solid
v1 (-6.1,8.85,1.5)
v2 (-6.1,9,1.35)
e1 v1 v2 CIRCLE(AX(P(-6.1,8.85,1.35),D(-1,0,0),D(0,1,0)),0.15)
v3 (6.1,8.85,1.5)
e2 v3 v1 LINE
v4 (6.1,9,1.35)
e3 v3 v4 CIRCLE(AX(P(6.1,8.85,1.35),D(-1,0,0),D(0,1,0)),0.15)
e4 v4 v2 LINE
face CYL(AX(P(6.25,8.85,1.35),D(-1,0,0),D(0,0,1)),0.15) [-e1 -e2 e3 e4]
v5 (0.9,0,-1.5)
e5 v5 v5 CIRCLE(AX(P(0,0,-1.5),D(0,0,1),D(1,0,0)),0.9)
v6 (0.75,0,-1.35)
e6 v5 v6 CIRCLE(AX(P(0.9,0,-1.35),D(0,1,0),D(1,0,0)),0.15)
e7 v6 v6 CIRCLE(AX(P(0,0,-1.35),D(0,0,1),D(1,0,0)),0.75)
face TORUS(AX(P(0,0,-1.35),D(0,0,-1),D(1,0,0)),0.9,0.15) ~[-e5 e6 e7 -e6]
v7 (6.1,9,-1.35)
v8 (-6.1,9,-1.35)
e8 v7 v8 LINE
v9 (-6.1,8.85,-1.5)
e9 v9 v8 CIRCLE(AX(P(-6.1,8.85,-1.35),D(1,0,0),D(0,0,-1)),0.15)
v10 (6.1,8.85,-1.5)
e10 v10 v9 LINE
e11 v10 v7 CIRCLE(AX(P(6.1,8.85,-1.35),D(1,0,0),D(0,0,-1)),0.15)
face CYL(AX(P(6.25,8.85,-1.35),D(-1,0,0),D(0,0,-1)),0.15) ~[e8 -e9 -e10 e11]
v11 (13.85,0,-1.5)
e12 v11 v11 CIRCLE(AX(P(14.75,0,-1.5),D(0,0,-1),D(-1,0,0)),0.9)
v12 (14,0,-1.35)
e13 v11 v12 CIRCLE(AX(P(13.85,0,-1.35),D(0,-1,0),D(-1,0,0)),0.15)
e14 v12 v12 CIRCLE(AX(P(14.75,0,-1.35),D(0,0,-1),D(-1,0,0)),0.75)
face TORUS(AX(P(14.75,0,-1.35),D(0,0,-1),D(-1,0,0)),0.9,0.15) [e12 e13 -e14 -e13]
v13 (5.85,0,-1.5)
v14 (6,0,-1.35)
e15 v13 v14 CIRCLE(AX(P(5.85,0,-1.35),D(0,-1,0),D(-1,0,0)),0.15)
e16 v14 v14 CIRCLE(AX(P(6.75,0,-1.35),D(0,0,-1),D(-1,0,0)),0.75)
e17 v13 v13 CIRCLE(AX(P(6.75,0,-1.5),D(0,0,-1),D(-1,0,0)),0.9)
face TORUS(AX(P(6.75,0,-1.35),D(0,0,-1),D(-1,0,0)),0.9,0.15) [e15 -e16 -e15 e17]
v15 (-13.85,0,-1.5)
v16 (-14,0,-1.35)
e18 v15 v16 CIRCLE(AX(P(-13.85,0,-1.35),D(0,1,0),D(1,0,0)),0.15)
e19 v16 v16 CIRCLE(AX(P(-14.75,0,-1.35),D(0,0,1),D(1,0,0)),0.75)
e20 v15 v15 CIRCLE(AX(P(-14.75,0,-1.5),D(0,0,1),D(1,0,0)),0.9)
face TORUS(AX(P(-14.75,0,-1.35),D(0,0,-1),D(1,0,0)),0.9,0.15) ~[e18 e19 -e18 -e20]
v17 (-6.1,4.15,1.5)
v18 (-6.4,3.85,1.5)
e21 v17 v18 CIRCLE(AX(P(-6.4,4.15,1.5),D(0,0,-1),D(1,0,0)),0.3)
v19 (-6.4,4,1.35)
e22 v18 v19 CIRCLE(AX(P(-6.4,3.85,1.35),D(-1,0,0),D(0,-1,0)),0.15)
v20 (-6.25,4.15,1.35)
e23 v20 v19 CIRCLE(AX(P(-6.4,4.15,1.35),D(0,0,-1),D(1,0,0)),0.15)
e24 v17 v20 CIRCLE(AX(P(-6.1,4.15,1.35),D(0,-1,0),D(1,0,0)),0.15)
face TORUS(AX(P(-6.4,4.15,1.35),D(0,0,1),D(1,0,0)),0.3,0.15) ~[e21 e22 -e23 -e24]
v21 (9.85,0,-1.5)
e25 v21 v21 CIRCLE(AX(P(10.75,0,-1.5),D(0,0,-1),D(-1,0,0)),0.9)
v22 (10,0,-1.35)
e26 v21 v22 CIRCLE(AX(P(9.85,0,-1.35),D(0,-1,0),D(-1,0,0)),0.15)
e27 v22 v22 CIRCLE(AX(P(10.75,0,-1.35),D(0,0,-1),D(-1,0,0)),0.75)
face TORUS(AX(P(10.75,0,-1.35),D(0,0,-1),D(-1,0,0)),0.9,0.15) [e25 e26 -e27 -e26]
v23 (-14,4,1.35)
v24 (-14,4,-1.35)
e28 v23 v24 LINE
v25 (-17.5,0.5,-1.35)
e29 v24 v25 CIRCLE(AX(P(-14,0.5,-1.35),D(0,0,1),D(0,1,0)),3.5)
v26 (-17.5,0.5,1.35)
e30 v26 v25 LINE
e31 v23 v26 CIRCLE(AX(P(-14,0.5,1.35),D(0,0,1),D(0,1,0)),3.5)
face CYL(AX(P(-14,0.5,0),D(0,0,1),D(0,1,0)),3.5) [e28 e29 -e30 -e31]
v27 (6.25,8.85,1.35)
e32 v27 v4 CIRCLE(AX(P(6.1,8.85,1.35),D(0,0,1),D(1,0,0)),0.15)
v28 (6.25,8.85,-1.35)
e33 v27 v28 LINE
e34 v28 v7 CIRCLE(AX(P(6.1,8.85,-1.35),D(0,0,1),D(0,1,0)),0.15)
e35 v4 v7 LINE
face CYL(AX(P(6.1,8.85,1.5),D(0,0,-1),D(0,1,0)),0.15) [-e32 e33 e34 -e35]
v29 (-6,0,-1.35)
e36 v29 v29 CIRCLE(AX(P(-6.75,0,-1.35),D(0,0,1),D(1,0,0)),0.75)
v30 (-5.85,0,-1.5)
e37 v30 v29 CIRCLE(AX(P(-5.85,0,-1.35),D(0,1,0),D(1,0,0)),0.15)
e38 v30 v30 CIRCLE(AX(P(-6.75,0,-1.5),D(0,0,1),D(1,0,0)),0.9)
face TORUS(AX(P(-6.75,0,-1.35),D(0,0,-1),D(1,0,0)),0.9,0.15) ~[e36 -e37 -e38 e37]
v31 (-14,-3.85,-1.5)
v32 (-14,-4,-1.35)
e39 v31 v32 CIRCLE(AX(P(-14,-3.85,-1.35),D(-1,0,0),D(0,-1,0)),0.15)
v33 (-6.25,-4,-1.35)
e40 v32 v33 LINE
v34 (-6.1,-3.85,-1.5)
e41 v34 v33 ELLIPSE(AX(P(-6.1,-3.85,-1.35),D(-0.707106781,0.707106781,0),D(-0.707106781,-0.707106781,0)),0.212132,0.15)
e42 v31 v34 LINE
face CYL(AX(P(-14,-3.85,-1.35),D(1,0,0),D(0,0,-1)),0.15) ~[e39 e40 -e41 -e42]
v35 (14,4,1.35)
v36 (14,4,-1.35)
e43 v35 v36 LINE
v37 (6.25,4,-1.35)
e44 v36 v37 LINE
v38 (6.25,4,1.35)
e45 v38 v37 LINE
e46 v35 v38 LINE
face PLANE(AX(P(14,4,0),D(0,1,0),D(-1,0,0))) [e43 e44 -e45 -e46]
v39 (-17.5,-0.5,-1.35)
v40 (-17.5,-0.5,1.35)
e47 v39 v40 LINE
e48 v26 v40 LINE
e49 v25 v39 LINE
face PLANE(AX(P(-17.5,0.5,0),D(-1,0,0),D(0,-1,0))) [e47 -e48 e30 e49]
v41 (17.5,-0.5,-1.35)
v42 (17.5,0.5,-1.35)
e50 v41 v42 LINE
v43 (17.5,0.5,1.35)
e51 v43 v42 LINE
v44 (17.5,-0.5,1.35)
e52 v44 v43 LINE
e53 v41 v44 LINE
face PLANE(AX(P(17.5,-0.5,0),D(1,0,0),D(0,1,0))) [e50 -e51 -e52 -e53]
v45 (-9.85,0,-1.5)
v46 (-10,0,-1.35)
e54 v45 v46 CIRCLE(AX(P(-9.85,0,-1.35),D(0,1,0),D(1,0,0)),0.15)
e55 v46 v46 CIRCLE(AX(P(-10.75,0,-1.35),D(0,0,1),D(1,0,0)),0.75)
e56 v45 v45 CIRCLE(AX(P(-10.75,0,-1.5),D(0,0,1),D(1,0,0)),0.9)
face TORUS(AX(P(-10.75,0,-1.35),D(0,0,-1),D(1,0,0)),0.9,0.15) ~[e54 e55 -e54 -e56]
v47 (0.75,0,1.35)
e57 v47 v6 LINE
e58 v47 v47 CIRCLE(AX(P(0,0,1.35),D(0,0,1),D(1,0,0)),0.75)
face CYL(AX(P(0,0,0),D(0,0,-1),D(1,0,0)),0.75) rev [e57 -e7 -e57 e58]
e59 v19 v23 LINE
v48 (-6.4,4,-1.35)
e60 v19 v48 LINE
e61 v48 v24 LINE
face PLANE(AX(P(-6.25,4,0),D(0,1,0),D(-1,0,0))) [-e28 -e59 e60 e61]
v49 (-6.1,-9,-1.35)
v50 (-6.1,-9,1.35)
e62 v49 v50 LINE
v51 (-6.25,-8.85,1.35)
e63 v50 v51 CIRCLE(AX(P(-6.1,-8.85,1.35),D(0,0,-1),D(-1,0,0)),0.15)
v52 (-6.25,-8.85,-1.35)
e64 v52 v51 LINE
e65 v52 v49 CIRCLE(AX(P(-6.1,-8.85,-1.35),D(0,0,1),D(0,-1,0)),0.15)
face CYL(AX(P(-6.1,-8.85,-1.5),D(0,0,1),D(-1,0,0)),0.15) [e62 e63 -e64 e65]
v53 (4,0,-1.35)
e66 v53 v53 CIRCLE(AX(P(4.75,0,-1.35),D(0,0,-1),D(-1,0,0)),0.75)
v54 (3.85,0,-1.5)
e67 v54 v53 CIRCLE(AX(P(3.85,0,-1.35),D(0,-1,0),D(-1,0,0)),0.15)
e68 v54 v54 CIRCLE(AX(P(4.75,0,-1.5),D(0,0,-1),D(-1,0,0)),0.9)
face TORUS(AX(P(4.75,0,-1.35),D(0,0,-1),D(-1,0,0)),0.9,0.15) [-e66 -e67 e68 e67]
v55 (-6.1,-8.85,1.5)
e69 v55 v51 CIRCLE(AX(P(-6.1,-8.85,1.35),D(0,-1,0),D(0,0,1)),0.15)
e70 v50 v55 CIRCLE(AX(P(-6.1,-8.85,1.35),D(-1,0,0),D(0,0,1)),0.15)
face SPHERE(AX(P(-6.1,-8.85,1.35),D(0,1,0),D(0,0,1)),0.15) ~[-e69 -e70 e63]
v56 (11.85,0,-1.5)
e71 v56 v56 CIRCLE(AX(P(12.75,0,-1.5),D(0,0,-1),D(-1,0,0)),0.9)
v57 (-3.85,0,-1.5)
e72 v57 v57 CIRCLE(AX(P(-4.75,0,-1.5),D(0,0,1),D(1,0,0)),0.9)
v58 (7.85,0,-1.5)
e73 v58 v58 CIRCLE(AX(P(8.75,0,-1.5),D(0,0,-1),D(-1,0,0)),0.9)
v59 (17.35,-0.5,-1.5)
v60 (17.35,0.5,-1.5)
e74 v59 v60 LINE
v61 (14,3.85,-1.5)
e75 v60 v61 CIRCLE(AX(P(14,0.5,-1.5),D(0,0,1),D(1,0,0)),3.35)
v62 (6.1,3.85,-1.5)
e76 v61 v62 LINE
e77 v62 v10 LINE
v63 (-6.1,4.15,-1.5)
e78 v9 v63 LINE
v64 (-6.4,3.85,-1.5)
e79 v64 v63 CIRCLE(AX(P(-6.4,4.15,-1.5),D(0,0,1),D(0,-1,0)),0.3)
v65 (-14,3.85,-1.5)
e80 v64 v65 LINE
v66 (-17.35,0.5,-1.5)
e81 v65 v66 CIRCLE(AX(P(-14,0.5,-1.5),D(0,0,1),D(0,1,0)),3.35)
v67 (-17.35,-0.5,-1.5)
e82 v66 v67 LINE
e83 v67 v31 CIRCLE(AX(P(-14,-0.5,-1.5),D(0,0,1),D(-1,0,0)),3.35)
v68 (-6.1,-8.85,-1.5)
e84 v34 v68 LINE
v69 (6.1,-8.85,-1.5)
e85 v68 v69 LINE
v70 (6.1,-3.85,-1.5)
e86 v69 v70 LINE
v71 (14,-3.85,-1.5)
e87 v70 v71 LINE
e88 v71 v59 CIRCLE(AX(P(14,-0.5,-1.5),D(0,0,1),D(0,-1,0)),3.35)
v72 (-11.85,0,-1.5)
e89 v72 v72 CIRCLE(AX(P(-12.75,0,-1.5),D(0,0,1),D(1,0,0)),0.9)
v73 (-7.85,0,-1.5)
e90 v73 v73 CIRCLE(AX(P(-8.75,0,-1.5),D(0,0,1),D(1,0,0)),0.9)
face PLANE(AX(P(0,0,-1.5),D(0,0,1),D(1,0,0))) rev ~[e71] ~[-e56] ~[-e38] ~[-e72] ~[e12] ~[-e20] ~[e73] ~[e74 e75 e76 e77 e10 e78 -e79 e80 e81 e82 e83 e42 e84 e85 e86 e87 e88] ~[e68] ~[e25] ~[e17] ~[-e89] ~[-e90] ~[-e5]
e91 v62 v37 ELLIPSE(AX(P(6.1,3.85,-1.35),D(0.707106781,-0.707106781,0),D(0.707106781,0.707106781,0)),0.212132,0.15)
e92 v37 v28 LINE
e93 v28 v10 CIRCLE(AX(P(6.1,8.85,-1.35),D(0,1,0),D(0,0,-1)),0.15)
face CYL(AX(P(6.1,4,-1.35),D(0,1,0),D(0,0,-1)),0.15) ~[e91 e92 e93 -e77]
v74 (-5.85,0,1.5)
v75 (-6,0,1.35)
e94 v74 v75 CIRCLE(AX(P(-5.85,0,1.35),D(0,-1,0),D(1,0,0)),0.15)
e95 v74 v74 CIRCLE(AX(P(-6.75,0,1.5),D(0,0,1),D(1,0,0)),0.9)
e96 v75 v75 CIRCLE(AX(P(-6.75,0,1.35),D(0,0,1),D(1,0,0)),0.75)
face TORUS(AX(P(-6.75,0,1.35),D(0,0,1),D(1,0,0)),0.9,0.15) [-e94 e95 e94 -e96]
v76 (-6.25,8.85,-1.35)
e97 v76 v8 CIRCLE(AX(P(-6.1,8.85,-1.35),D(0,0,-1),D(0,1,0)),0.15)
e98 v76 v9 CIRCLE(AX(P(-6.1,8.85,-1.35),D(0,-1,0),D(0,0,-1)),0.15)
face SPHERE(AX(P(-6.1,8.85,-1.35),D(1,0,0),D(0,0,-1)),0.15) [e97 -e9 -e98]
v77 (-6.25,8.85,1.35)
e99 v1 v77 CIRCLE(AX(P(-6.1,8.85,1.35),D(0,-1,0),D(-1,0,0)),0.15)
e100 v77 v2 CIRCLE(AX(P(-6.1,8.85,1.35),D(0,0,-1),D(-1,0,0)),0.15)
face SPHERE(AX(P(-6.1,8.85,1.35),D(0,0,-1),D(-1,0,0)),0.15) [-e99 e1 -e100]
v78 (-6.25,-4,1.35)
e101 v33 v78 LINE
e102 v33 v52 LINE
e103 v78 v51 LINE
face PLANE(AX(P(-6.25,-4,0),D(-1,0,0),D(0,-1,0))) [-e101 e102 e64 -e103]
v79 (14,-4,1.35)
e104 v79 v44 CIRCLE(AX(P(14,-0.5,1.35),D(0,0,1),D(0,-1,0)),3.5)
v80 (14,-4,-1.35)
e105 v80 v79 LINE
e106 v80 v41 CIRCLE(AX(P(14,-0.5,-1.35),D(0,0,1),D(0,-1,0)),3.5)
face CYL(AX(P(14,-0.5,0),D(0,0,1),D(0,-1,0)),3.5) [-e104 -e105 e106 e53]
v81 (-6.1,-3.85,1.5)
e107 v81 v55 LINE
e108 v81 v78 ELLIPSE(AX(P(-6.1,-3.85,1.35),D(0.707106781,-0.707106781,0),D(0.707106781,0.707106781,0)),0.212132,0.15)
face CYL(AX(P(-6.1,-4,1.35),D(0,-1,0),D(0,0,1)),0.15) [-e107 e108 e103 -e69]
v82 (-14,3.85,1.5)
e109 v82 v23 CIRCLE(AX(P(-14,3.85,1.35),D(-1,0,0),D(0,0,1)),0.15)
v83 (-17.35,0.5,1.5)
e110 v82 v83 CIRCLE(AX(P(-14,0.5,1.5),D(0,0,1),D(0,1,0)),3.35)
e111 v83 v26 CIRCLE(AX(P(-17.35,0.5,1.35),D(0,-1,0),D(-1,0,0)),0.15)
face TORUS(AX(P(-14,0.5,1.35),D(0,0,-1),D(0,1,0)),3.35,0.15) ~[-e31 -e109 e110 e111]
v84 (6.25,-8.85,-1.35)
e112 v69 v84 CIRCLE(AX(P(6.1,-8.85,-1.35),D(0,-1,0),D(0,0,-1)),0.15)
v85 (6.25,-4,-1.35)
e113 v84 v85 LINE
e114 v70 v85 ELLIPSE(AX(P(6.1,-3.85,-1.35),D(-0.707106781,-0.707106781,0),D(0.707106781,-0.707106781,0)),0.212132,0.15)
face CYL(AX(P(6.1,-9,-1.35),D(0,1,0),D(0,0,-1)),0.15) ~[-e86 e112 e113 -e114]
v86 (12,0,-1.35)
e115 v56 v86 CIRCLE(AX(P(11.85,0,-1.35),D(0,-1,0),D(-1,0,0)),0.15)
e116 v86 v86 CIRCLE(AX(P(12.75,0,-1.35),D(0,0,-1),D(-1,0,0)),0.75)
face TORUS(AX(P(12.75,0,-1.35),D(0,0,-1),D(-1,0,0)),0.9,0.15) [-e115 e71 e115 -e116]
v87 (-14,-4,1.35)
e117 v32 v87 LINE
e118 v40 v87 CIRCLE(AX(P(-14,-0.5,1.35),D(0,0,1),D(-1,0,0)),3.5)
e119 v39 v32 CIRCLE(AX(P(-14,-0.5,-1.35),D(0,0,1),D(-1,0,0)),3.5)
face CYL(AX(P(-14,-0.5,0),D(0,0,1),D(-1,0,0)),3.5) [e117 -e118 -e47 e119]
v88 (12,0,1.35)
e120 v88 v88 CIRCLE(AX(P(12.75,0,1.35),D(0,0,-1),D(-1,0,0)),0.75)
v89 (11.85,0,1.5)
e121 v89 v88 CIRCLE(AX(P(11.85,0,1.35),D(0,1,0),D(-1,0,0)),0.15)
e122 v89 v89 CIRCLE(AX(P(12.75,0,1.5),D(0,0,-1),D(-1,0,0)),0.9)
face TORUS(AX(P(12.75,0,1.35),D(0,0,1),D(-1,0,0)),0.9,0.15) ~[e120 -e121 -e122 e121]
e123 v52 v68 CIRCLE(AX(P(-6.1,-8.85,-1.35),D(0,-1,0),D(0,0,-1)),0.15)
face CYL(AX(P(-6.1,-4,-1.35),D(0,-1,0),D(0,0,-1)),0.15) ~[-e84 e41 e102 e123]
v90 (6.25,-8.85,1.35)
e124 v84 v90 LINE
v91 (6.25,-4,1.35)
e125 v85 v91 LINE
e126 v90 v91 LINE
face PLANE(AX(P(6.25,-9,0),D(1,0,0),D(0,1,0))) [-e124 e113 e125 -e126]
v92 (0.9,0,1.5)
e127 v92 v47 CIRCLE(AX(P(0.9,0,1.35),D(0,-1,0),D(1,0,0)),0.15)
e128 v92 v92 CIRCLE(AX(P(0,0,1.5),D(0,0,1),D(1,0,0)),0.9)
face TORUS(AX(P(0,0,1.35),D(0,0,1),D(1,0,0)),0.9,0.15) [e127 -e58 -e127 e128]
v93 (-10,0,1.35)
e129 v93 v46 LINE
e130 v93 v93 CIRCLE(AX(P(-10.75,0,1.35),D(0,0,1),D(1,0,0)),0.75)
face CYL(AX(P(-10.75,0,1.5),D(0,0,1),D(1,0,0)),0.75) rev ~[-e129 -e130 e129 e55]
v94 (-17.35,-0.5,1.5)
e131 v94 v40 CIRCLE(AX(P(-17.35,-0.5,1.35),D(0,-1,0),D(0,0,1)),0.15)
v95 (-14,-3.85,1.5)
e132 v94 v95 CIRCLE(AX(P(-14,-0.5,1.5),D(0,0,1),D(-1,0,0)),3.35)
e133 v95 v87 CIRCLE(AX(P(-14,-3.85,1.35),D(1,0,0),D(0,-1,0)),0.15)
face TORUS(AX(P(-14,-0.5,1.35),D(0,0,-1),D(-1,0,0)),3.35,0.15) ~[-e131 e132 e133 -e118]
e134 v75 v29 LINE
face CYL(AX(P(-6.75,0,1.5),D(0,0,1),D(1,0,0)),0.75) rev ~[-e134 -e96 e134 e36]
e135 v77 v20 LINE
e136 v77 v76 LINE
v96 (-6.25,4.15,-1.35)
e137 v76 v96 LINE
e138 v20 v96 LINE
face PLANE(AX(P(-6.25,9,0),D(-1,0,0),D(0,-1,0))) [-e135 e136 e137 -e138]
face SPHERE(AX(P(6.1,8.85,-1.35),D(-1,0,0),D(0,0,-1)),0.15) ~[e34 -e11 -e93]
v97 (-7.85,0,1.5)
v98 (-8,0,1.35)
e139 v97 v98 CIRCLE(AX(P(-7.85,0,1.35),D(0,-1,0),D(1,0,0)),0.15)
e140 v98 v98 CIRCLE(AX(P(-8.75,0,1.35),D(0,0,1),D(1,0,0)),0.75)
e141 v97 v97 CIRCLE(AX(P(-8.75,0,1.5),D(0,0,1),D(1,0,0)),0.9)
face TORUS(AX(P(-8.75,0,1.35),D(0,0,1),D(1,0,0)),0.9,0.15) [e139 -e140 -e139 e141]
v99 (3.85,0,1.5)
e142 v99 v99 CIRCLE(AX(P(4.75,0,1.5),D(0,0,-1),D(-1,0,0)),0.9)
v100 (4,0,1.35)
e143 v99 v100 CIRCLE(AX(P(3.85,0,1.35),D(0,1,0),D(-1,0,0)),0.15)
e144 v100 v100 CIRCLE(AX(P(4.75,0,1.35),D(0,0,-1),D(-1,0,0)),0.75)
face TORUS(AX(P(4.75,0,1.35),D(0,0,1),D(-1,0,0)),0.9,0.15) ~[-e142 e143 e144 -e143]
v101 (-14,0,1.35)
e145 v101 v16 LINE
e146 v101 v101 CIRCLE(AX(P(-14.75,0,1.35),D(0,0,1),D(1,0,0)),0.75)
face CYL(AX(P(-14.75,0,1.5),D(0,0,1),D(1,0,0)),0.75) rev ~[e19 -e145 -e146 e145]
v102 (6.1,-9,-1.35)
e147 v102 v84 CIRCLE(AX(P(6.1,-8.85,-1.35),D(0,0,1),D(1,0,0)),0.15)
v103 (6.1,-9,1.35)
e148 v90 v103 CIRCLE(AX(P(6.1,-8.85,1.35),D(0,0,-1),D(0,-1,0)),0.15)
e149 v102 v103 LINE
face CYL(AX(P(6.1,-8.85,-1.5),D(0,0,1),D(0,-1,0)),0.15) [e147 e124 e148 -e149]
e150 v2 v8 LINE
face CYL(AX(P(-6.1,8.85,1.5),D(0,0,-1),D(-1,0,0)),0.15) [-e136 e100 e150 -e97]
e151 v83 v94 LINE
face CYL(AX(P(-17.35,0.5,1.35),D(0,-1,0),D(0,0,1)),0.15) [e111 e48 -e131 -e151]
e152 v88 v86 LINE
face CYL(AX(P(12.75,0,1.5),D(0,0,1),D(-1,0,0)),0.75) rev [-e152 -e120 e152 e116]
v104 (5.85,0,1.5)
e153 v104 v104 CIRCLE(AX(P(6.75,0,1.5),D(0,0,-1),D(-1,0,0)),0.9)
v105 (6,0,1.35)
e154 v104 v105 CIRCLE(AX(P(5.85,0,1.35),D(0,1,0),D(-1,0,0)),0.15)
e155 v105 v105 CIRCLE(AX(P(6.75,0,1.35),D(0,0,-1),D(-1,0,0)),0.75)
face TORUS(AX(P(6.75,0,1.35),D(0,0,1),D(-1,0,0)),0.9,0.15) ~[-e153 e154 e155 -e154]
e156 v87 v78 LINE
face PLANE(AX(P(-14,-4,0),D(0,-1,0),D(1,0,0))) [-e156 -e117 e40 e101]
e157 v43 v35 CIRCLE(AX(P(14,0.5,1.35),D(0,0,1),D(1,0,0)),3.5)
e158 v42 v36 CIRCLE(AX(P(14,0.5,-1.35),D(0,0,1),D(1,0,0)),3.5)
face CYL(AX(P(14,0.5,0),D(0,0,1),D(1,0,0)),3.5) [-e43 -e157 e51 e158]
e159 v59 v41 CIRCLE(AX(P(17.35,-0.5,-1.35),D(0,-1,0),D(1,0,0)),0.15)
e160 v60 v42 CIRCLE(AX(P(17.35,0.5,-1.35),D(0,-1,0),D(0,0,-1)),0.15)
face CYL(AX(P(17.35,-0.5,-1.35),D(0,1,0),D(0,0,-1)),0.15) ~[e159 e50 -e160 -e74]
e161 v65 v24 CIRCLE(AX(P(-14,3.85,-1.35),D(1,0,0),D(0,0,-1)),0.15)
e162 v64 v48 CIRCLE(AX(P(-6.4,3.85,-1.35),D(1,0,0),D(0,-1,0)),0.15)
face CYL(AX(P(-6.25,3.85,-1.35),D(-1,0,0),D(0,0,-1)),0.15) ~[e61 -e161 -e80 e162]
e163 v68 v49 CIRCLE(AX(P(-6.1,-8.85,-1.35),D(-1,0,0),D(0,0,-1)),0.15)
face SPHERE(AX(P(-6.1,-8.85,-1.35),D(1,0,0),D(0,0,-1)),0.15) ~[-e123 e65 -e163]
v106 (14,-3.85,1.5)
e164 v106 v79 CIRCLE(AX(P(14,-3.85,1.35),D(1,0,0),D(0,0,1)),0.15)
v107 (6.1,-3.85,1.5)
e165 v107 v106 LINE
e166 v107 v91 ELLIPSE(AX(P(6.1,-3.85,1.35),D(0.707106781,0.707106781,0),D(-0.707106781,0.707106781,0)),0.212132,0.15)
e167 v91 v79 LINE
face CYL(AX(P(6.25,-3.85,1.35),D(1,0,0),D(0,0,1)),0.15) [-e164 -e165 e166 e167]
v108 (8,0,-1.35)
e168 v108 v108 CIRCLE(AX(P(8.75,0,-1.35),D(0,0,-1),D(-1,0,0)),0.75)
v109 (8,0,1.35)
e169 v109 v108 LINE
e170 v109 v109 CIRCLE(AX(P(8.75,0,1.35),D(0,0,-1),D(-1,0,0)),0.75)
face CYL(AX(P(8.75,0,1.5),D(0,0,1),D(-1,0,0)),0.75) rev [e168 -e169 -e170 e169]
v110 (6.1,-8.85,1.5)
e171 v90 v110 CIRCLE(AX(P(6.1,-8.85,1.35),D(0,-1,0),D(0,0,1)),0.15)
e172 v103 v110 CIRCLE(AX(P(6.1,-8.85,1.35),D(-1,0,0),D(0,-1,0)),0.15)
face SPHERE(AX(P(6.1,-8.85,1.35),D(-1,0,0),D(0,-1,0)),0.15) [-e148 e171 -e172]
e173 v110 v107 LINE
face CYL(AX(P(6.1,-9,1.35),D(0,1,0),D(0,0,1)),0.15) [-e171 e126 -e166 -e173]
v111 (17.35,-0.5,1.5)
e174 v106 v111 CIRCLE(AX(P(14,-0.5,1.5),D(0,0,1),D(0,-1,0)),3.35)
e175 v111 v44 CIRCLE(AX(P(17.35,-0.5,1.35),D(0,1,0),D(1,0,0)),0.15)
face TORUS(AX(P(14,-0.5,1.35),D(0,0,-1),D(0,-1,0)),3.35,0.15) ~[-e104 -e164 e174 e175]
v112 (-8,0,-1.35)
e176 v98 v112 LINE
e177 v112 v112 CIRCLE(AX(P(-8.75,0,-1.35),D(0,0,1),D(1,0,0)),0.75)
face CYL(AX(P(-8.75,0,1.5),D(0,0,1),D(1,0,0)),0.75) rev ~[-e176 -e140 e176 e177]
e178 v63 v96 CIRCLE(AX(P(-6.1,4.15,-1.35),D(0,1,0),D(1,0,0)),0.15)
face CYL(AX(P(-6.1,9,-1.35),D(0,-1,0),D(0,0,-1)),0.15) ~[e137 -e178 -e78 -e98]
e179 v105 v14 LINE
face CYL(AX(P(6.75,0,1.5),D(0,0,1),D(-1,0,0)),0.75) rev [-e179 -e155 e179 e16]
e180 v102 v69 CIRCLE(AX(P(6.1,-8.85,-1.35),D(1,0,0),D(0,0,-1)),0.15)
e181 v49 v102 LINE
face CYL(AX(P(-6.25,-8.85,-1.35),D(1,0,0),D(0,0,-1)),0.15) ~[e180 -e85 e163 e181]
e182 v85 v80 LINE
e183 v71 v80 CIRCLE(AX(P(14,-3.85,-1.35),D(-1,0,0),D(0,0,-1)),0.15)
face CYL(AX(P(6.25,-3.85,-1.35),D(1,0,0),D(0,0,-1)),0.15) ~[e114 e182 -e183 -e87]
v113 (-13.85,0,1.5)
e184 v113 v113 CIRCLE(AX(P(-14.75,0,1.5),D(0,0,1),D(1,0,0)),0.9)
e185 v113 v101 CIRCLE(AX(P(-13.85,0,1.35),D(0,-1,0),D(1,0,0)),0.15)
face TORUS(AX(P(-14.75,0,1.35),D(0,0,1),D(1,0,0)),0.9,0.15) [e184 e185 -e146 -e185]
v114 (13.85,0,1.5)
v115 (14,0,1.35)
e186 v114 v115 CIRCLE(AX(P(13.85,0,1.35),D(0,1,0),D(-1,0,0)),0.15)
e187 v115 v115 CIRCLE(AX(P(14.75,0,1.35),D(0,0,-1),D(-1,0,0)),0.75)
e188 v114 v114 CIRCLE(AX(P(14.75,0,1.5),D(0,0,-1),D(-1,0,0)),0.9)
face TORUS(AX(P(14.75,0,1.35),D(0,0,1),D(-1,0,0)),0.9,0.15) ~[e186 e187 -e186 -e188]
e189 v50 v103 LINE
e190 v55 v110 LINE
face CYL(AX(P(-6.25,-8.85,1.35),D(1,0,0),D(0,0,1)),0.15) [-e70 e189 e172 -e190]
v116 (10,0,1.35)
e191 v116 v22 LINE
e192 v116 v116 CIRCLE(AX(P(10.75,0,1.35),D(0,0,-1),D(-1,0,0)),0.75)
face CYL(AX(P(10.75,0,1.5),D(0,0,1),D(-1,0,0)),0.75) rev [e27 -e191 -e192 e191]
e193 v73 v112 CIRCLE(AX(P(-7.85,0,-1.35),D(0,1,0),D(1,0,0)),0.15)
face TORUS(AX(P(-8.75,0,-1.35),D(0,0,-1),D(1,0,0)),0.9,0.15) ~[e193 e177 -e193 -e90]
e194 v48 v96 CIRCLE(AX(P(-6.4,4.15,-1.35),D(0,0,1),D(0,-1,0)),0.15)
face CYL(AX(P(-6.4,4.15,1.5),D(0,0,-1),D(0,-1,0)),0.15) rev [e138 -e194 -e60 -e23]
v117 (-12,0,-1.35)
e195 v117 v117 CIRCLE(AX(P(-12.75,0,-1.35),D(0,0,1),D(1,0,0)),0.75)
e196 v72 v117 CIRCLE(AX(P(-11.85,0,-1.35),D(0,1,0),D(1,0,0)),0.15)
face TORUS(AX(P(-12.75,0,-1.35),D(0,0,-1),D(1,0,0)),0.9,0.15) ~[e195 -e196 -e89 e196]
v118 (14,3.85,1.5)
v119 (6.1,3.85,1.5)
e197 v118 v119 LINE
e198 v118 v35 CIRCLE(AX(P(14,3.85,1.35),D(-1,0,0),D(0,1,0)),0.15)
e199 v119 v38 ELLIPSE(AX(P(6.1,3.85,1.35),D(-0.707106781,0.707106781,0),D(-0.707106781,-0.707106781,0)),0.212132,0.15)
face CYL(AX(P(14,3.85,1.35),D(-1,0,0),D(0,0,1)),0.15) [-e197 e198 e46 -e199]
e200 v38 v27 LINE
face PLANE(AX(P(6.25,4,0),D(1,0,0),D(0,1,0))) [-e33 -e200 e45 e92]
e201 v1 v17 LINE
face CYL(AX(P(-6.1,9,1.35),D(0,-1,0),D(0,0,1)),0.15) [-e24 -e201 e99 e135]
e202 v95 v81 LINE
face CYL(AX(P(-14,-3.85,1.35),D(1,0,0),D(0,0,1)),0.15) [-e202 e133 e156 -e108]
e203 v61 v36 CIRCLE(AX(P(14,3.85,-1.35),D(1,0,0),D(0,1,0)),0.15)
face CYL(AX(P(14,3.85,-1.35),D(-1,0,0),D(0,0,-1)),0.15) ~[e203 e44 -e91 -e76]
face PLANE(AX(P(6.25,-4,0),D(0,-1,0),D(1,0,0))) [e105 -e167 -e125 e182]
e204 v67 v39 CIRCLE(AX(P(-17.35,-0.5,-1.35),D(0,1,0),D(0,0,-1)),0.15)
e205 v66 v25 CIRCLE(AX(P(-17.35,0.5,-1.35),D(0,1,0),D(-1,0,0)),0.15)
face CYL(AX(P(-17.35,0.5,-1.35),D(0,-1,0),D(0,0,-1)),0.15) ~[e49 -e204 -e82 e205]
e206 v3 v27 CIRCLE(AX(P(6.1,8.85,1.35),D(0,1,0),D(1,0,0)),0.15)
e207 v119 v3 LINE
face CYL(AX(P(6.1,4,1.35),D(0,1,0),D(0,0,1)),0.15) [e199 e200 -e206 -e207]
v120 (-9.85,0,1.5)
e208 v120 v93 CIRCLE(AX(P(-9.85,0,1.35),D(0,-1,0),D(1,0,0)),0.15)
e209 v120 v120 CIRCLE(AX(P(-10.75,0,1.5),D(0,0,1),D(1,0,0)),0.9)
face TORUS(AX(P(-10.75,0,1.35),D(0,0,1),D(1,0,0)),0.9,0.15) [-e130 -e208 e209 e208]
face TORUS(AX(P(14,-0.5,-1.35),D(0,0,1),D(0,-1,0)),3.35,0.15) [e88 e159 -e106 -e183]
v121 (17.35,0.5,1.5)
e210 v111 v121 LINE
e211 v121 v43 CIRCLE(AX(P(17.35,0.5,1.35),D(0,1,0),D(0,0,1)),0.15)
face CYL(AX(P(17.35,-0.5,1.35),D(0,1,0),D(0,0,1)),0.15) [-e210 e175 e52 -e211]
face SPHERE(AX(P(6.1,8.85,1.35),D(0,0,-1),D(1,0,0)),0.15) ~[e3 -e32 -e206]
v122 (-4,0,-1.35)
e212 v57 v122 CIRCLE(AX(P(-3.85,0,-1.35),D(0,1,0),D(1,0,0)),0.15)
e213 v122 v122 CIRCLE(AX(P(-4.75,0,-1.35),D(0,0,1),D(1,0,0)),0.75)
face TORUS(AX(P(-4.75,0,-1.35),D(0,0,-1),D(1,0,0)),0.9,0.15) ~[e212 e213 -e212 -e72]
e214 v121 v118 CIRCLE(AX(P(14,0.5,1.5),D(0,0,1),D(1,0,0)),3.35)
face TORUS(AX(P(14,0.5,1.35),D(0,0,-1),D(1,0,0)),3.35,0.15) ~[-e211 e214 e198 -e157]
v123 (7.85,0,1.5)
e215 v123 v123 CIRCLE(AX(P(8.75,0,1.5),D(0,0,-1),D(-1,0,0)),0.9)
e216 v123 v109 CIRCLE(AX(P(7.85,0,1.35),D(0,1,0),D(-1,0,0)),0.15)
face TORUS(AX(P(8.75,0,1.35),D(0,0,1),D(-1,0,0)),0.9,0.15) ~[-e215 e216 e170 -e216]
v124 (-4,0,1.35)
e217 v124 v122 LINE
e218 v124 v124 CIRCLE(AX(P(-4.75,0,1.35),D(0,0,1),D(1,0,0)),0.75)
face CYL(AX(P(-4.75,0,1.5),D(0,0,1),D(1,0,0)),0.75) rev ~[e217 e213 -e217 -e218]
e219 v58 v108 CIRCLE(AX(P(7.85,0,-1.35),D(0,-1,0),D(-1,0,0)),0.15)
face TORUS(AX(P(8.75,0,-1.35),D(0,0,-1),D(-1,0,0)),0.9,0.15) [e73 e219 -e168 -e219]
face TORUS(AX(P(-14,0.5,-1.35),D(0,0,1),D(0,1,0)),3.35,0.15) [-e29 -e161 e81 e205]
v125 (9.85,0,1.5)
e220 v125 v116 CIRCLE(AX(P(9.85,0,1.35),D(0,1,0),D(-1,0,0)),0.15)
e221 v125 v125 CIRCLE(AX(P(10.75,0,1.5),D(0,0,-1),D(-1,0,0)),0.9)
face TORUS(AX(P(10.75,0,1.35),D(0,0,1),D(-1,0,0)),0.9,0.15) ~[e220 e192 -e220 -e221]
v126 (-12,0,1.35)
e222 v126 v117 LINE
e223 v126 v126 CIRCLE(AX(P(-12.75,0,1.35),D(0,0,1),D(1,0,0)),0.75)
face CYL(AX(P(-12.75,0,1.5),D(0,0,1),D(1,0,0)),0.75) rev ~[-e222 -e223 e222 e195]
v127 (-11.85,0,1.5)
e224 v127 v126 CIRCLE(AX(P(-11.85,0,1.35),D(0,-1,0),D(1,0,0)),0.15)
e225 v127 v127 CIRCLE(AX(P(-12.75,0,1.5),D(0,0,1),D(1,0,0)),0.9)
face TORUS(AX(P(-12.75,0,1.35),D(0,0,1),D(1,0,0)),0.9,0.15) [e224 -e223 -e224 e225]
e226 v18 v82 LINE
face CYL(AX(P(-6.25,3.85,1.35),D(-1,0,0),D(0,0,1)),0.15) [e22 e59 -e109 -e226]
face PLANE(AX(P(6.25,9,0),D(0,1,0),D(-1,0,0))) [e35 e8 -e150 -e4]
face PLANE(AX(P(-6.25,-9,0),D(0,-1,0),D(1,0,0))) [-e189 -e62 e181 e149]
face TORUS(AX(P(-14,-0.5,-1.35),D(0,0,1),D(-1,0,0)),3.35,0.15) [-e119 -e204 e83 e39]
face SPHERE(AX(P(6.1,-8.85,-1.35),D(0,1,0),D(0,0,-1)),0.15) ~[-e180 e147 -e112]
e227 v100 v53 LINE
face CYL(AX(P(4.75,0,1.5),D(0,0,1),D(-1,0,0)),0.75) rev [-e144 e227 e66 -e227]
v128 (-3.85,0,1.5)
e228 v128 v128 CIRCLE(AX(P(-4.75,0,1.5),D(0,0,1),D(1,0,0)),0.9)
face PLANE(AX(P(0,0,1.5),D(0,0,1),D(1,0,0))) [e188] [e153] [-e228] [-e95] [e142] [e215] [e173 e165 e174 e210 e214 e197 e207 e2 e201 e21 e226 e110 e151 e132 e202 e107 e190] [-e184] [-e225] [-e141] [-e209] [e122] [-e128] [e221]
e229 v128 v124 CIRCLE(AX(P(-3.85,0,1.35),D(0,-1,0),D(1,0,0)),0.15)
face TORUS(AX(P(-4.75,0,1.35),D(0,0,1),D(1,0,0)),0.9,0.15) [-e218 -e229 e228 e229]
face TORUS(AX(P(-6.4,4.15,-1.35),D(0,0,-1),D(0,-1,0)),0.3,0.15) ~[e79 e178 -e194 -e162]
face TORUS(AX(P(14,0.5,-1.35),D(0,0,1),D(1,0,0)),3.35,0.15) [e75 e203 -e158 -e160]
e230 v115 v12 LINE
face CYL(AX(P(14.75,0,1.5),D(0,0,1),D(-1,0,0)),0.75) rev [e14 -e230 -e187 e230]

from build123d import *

# Parameters (mm, degrees)
SKETCH1_R           = 0.75
BOSS_EXTRUDE2_DEPTH = 1.5
SKETCH2_R           = 0.75
CUT_EXTRUDE1_DEPTH  = 3
FILLET2_R           = 0.15


with BuildPart() as part:
    # Sketch1 → Boss-Extrude2 (new body, symmetric)
    with BuildSketch(Plane.XY):
        with BuildLine():
            Line((-17.5, 0.5), (-17.5, -0.5))
            ThreePointArc((-17.5, -0.5), (-16.474873734, -2.974873734), (-14, -4))
            Line((-14, -4), (-6.25, -4))
            Line((-6.25, -4), (-6.25, -9))
            Line((-6.25, -9), (6.25, -9))
            Line((6.25, -9), (6.25, -4))
            Line((6.25, -4), (14, -4))
            ThreePointArc((14, -4), (16.474873734, -2.974873734), (17.5, -0.5))
            Line((17.5, -0.5), (17.5, 0.5))
            ThreePointArc((17.5, 0.5), (16.474873734, 2.974873734), (14, 4))
            Line((14, 4), (6.25, 4))
            Line((6.25, 4), (6.25, 9))
            Line((6.25, 9), (-6.25, 9))
            Line((-6.25, 9), (-6.25, 4))
            Line((-6.25, 4), (-14, 4))
            ThreePointArc((-14, 4), (-16.474873734, 2.974873734), (-17.5, 0.5))
        make_face()
        Circle(SKETCH1_R, mode=Mode.SUBTRACT)
    extrude(amount=BOSS_EXTRUDE2_DEPTH, both=True)

    # Sketch2 → Cut-Extrude1 (cut)
    with BuildSketch(Plane.XY.offset(1.5)):
        with Locations((-14.75, 0)):
            Circle(SKETCH2_R)
        with Locations((-12.75, 0)):
            Circle(SKETCH2_R)
        with Locations((-10.75, 0)):
            Circle(SKETCH2_R)
        with Locations((-8.75, 0)):
            Circle(SKETCH2_R)
        with Locations((-6.75, 0)):
            Circle(SKETCH2_R)
        with Locations((-4.75, 0)):
            Circle(SKETCH2_R)
    cut_extrude1 = extrude(amount=-CUT_EXTRUDE1_DEPTH, mode=Mode.SUBTRACT)

    # Mirror1: Cut-Extrude1 across plane
    add(cut_extrude1.mirror(Plane(origin=(0, 0, 0), x_dir=(0, 0, 1), z_dir=(1, 0, 0))), mode=Mode.SUBTRACT)

    # Fillet2
    fillet2_edges = [part.edges().sort_by_distance(p)[0] for p in [
        (-16.474873734, 2.974873734, 1.5),
        (-17.5, 0, 1.5),
        (0, 9, -1.5),
        (6.25, 6.5, -1.5),
        (10.125, 4, -1.5),
        (16.474873734, 2.974873734, -1.5),
        (17.5, 0, -1.5),
        (-16.474873734, -2.974873734, 1.5),
        (16.474873734, -2.974873734, -1.5),
        (10.125, -4, -1.5),
        (6.25, -6.5, -1.5),
        (0, -9, -1.5),
        (-6.25, -6.5, -1.5),
        (-10.125, -4, -1.5),
        (-16.474873734, -2.974873734, -1.5),
        (-17.5, 0, -1.5),
        (-10.125, -4, 1.5),
        (-16.474873734, 2.974873734, -1.5),
        (-10.125, 4, -1.5),
        (-6.25, 6.5, -1.5),
        (-6.25, -6.5, 1.5),
        (0, -9, 1.5),
        (-6.25, 9, 0),
        (6.25, 9, 0),
        (6.25, -9, 0),
        (-6.25, -9, 0),
        (-6.25, 4, 0),
        (6.25, -6.5, 1.5),
        (10.125, -4, 1.5),
        (16.474873734, -2.974873734, 1.5),
        (17.5, 0, 1.5),
        (-0.75, 0, -1.5),
        (-0.75, 0, 1.5),
        (-6.25, 6.5, 1.5),
        (16.474873734, 2.974873734, 1.5),
        (10.125, 4, 1.5),
        (6.25, 6.5, 1.5),
        (0, 9, 1.5),
        (-15.5, 0, 1.5),
        (-15.5, 0, -1.5),
        (-13.5, 0, 1.5),
        (-13.5, 0, -1.5),
        (-11.5, 0, 1.5),
        (-11.5, 0, -1.5),
        (-9.5, 0, 1.5),
        (-9.5, 0, -1.5),
        (-7.5, 0, 1.5),
        (-7.5, 0, -1.5),
        (-5.5, 0, 1.5),
        (-5.5, 0, -1.5),
        (-10.125, 4, 1.5),
        (15.5, 0, 1.5),
        (15.5, 0, -1.5),
        (13.5, 0, 1.5),
        (13.5, 0, -1.5),
        (11.5, 0, 1.5),
        (11.5, 0, -1.5),
        (9.5, 0, 1.5),
        (9.5, 0, -1.5),
        (7.5, 0, 1.5),
        (7.5, 0, -1.5),
        (5.5, 0, 1.5),
        (5.5, 0, -1.5),
    ]]
    fillet(fillet2_edges, radius=FILLET2_R)


solid = part.part
